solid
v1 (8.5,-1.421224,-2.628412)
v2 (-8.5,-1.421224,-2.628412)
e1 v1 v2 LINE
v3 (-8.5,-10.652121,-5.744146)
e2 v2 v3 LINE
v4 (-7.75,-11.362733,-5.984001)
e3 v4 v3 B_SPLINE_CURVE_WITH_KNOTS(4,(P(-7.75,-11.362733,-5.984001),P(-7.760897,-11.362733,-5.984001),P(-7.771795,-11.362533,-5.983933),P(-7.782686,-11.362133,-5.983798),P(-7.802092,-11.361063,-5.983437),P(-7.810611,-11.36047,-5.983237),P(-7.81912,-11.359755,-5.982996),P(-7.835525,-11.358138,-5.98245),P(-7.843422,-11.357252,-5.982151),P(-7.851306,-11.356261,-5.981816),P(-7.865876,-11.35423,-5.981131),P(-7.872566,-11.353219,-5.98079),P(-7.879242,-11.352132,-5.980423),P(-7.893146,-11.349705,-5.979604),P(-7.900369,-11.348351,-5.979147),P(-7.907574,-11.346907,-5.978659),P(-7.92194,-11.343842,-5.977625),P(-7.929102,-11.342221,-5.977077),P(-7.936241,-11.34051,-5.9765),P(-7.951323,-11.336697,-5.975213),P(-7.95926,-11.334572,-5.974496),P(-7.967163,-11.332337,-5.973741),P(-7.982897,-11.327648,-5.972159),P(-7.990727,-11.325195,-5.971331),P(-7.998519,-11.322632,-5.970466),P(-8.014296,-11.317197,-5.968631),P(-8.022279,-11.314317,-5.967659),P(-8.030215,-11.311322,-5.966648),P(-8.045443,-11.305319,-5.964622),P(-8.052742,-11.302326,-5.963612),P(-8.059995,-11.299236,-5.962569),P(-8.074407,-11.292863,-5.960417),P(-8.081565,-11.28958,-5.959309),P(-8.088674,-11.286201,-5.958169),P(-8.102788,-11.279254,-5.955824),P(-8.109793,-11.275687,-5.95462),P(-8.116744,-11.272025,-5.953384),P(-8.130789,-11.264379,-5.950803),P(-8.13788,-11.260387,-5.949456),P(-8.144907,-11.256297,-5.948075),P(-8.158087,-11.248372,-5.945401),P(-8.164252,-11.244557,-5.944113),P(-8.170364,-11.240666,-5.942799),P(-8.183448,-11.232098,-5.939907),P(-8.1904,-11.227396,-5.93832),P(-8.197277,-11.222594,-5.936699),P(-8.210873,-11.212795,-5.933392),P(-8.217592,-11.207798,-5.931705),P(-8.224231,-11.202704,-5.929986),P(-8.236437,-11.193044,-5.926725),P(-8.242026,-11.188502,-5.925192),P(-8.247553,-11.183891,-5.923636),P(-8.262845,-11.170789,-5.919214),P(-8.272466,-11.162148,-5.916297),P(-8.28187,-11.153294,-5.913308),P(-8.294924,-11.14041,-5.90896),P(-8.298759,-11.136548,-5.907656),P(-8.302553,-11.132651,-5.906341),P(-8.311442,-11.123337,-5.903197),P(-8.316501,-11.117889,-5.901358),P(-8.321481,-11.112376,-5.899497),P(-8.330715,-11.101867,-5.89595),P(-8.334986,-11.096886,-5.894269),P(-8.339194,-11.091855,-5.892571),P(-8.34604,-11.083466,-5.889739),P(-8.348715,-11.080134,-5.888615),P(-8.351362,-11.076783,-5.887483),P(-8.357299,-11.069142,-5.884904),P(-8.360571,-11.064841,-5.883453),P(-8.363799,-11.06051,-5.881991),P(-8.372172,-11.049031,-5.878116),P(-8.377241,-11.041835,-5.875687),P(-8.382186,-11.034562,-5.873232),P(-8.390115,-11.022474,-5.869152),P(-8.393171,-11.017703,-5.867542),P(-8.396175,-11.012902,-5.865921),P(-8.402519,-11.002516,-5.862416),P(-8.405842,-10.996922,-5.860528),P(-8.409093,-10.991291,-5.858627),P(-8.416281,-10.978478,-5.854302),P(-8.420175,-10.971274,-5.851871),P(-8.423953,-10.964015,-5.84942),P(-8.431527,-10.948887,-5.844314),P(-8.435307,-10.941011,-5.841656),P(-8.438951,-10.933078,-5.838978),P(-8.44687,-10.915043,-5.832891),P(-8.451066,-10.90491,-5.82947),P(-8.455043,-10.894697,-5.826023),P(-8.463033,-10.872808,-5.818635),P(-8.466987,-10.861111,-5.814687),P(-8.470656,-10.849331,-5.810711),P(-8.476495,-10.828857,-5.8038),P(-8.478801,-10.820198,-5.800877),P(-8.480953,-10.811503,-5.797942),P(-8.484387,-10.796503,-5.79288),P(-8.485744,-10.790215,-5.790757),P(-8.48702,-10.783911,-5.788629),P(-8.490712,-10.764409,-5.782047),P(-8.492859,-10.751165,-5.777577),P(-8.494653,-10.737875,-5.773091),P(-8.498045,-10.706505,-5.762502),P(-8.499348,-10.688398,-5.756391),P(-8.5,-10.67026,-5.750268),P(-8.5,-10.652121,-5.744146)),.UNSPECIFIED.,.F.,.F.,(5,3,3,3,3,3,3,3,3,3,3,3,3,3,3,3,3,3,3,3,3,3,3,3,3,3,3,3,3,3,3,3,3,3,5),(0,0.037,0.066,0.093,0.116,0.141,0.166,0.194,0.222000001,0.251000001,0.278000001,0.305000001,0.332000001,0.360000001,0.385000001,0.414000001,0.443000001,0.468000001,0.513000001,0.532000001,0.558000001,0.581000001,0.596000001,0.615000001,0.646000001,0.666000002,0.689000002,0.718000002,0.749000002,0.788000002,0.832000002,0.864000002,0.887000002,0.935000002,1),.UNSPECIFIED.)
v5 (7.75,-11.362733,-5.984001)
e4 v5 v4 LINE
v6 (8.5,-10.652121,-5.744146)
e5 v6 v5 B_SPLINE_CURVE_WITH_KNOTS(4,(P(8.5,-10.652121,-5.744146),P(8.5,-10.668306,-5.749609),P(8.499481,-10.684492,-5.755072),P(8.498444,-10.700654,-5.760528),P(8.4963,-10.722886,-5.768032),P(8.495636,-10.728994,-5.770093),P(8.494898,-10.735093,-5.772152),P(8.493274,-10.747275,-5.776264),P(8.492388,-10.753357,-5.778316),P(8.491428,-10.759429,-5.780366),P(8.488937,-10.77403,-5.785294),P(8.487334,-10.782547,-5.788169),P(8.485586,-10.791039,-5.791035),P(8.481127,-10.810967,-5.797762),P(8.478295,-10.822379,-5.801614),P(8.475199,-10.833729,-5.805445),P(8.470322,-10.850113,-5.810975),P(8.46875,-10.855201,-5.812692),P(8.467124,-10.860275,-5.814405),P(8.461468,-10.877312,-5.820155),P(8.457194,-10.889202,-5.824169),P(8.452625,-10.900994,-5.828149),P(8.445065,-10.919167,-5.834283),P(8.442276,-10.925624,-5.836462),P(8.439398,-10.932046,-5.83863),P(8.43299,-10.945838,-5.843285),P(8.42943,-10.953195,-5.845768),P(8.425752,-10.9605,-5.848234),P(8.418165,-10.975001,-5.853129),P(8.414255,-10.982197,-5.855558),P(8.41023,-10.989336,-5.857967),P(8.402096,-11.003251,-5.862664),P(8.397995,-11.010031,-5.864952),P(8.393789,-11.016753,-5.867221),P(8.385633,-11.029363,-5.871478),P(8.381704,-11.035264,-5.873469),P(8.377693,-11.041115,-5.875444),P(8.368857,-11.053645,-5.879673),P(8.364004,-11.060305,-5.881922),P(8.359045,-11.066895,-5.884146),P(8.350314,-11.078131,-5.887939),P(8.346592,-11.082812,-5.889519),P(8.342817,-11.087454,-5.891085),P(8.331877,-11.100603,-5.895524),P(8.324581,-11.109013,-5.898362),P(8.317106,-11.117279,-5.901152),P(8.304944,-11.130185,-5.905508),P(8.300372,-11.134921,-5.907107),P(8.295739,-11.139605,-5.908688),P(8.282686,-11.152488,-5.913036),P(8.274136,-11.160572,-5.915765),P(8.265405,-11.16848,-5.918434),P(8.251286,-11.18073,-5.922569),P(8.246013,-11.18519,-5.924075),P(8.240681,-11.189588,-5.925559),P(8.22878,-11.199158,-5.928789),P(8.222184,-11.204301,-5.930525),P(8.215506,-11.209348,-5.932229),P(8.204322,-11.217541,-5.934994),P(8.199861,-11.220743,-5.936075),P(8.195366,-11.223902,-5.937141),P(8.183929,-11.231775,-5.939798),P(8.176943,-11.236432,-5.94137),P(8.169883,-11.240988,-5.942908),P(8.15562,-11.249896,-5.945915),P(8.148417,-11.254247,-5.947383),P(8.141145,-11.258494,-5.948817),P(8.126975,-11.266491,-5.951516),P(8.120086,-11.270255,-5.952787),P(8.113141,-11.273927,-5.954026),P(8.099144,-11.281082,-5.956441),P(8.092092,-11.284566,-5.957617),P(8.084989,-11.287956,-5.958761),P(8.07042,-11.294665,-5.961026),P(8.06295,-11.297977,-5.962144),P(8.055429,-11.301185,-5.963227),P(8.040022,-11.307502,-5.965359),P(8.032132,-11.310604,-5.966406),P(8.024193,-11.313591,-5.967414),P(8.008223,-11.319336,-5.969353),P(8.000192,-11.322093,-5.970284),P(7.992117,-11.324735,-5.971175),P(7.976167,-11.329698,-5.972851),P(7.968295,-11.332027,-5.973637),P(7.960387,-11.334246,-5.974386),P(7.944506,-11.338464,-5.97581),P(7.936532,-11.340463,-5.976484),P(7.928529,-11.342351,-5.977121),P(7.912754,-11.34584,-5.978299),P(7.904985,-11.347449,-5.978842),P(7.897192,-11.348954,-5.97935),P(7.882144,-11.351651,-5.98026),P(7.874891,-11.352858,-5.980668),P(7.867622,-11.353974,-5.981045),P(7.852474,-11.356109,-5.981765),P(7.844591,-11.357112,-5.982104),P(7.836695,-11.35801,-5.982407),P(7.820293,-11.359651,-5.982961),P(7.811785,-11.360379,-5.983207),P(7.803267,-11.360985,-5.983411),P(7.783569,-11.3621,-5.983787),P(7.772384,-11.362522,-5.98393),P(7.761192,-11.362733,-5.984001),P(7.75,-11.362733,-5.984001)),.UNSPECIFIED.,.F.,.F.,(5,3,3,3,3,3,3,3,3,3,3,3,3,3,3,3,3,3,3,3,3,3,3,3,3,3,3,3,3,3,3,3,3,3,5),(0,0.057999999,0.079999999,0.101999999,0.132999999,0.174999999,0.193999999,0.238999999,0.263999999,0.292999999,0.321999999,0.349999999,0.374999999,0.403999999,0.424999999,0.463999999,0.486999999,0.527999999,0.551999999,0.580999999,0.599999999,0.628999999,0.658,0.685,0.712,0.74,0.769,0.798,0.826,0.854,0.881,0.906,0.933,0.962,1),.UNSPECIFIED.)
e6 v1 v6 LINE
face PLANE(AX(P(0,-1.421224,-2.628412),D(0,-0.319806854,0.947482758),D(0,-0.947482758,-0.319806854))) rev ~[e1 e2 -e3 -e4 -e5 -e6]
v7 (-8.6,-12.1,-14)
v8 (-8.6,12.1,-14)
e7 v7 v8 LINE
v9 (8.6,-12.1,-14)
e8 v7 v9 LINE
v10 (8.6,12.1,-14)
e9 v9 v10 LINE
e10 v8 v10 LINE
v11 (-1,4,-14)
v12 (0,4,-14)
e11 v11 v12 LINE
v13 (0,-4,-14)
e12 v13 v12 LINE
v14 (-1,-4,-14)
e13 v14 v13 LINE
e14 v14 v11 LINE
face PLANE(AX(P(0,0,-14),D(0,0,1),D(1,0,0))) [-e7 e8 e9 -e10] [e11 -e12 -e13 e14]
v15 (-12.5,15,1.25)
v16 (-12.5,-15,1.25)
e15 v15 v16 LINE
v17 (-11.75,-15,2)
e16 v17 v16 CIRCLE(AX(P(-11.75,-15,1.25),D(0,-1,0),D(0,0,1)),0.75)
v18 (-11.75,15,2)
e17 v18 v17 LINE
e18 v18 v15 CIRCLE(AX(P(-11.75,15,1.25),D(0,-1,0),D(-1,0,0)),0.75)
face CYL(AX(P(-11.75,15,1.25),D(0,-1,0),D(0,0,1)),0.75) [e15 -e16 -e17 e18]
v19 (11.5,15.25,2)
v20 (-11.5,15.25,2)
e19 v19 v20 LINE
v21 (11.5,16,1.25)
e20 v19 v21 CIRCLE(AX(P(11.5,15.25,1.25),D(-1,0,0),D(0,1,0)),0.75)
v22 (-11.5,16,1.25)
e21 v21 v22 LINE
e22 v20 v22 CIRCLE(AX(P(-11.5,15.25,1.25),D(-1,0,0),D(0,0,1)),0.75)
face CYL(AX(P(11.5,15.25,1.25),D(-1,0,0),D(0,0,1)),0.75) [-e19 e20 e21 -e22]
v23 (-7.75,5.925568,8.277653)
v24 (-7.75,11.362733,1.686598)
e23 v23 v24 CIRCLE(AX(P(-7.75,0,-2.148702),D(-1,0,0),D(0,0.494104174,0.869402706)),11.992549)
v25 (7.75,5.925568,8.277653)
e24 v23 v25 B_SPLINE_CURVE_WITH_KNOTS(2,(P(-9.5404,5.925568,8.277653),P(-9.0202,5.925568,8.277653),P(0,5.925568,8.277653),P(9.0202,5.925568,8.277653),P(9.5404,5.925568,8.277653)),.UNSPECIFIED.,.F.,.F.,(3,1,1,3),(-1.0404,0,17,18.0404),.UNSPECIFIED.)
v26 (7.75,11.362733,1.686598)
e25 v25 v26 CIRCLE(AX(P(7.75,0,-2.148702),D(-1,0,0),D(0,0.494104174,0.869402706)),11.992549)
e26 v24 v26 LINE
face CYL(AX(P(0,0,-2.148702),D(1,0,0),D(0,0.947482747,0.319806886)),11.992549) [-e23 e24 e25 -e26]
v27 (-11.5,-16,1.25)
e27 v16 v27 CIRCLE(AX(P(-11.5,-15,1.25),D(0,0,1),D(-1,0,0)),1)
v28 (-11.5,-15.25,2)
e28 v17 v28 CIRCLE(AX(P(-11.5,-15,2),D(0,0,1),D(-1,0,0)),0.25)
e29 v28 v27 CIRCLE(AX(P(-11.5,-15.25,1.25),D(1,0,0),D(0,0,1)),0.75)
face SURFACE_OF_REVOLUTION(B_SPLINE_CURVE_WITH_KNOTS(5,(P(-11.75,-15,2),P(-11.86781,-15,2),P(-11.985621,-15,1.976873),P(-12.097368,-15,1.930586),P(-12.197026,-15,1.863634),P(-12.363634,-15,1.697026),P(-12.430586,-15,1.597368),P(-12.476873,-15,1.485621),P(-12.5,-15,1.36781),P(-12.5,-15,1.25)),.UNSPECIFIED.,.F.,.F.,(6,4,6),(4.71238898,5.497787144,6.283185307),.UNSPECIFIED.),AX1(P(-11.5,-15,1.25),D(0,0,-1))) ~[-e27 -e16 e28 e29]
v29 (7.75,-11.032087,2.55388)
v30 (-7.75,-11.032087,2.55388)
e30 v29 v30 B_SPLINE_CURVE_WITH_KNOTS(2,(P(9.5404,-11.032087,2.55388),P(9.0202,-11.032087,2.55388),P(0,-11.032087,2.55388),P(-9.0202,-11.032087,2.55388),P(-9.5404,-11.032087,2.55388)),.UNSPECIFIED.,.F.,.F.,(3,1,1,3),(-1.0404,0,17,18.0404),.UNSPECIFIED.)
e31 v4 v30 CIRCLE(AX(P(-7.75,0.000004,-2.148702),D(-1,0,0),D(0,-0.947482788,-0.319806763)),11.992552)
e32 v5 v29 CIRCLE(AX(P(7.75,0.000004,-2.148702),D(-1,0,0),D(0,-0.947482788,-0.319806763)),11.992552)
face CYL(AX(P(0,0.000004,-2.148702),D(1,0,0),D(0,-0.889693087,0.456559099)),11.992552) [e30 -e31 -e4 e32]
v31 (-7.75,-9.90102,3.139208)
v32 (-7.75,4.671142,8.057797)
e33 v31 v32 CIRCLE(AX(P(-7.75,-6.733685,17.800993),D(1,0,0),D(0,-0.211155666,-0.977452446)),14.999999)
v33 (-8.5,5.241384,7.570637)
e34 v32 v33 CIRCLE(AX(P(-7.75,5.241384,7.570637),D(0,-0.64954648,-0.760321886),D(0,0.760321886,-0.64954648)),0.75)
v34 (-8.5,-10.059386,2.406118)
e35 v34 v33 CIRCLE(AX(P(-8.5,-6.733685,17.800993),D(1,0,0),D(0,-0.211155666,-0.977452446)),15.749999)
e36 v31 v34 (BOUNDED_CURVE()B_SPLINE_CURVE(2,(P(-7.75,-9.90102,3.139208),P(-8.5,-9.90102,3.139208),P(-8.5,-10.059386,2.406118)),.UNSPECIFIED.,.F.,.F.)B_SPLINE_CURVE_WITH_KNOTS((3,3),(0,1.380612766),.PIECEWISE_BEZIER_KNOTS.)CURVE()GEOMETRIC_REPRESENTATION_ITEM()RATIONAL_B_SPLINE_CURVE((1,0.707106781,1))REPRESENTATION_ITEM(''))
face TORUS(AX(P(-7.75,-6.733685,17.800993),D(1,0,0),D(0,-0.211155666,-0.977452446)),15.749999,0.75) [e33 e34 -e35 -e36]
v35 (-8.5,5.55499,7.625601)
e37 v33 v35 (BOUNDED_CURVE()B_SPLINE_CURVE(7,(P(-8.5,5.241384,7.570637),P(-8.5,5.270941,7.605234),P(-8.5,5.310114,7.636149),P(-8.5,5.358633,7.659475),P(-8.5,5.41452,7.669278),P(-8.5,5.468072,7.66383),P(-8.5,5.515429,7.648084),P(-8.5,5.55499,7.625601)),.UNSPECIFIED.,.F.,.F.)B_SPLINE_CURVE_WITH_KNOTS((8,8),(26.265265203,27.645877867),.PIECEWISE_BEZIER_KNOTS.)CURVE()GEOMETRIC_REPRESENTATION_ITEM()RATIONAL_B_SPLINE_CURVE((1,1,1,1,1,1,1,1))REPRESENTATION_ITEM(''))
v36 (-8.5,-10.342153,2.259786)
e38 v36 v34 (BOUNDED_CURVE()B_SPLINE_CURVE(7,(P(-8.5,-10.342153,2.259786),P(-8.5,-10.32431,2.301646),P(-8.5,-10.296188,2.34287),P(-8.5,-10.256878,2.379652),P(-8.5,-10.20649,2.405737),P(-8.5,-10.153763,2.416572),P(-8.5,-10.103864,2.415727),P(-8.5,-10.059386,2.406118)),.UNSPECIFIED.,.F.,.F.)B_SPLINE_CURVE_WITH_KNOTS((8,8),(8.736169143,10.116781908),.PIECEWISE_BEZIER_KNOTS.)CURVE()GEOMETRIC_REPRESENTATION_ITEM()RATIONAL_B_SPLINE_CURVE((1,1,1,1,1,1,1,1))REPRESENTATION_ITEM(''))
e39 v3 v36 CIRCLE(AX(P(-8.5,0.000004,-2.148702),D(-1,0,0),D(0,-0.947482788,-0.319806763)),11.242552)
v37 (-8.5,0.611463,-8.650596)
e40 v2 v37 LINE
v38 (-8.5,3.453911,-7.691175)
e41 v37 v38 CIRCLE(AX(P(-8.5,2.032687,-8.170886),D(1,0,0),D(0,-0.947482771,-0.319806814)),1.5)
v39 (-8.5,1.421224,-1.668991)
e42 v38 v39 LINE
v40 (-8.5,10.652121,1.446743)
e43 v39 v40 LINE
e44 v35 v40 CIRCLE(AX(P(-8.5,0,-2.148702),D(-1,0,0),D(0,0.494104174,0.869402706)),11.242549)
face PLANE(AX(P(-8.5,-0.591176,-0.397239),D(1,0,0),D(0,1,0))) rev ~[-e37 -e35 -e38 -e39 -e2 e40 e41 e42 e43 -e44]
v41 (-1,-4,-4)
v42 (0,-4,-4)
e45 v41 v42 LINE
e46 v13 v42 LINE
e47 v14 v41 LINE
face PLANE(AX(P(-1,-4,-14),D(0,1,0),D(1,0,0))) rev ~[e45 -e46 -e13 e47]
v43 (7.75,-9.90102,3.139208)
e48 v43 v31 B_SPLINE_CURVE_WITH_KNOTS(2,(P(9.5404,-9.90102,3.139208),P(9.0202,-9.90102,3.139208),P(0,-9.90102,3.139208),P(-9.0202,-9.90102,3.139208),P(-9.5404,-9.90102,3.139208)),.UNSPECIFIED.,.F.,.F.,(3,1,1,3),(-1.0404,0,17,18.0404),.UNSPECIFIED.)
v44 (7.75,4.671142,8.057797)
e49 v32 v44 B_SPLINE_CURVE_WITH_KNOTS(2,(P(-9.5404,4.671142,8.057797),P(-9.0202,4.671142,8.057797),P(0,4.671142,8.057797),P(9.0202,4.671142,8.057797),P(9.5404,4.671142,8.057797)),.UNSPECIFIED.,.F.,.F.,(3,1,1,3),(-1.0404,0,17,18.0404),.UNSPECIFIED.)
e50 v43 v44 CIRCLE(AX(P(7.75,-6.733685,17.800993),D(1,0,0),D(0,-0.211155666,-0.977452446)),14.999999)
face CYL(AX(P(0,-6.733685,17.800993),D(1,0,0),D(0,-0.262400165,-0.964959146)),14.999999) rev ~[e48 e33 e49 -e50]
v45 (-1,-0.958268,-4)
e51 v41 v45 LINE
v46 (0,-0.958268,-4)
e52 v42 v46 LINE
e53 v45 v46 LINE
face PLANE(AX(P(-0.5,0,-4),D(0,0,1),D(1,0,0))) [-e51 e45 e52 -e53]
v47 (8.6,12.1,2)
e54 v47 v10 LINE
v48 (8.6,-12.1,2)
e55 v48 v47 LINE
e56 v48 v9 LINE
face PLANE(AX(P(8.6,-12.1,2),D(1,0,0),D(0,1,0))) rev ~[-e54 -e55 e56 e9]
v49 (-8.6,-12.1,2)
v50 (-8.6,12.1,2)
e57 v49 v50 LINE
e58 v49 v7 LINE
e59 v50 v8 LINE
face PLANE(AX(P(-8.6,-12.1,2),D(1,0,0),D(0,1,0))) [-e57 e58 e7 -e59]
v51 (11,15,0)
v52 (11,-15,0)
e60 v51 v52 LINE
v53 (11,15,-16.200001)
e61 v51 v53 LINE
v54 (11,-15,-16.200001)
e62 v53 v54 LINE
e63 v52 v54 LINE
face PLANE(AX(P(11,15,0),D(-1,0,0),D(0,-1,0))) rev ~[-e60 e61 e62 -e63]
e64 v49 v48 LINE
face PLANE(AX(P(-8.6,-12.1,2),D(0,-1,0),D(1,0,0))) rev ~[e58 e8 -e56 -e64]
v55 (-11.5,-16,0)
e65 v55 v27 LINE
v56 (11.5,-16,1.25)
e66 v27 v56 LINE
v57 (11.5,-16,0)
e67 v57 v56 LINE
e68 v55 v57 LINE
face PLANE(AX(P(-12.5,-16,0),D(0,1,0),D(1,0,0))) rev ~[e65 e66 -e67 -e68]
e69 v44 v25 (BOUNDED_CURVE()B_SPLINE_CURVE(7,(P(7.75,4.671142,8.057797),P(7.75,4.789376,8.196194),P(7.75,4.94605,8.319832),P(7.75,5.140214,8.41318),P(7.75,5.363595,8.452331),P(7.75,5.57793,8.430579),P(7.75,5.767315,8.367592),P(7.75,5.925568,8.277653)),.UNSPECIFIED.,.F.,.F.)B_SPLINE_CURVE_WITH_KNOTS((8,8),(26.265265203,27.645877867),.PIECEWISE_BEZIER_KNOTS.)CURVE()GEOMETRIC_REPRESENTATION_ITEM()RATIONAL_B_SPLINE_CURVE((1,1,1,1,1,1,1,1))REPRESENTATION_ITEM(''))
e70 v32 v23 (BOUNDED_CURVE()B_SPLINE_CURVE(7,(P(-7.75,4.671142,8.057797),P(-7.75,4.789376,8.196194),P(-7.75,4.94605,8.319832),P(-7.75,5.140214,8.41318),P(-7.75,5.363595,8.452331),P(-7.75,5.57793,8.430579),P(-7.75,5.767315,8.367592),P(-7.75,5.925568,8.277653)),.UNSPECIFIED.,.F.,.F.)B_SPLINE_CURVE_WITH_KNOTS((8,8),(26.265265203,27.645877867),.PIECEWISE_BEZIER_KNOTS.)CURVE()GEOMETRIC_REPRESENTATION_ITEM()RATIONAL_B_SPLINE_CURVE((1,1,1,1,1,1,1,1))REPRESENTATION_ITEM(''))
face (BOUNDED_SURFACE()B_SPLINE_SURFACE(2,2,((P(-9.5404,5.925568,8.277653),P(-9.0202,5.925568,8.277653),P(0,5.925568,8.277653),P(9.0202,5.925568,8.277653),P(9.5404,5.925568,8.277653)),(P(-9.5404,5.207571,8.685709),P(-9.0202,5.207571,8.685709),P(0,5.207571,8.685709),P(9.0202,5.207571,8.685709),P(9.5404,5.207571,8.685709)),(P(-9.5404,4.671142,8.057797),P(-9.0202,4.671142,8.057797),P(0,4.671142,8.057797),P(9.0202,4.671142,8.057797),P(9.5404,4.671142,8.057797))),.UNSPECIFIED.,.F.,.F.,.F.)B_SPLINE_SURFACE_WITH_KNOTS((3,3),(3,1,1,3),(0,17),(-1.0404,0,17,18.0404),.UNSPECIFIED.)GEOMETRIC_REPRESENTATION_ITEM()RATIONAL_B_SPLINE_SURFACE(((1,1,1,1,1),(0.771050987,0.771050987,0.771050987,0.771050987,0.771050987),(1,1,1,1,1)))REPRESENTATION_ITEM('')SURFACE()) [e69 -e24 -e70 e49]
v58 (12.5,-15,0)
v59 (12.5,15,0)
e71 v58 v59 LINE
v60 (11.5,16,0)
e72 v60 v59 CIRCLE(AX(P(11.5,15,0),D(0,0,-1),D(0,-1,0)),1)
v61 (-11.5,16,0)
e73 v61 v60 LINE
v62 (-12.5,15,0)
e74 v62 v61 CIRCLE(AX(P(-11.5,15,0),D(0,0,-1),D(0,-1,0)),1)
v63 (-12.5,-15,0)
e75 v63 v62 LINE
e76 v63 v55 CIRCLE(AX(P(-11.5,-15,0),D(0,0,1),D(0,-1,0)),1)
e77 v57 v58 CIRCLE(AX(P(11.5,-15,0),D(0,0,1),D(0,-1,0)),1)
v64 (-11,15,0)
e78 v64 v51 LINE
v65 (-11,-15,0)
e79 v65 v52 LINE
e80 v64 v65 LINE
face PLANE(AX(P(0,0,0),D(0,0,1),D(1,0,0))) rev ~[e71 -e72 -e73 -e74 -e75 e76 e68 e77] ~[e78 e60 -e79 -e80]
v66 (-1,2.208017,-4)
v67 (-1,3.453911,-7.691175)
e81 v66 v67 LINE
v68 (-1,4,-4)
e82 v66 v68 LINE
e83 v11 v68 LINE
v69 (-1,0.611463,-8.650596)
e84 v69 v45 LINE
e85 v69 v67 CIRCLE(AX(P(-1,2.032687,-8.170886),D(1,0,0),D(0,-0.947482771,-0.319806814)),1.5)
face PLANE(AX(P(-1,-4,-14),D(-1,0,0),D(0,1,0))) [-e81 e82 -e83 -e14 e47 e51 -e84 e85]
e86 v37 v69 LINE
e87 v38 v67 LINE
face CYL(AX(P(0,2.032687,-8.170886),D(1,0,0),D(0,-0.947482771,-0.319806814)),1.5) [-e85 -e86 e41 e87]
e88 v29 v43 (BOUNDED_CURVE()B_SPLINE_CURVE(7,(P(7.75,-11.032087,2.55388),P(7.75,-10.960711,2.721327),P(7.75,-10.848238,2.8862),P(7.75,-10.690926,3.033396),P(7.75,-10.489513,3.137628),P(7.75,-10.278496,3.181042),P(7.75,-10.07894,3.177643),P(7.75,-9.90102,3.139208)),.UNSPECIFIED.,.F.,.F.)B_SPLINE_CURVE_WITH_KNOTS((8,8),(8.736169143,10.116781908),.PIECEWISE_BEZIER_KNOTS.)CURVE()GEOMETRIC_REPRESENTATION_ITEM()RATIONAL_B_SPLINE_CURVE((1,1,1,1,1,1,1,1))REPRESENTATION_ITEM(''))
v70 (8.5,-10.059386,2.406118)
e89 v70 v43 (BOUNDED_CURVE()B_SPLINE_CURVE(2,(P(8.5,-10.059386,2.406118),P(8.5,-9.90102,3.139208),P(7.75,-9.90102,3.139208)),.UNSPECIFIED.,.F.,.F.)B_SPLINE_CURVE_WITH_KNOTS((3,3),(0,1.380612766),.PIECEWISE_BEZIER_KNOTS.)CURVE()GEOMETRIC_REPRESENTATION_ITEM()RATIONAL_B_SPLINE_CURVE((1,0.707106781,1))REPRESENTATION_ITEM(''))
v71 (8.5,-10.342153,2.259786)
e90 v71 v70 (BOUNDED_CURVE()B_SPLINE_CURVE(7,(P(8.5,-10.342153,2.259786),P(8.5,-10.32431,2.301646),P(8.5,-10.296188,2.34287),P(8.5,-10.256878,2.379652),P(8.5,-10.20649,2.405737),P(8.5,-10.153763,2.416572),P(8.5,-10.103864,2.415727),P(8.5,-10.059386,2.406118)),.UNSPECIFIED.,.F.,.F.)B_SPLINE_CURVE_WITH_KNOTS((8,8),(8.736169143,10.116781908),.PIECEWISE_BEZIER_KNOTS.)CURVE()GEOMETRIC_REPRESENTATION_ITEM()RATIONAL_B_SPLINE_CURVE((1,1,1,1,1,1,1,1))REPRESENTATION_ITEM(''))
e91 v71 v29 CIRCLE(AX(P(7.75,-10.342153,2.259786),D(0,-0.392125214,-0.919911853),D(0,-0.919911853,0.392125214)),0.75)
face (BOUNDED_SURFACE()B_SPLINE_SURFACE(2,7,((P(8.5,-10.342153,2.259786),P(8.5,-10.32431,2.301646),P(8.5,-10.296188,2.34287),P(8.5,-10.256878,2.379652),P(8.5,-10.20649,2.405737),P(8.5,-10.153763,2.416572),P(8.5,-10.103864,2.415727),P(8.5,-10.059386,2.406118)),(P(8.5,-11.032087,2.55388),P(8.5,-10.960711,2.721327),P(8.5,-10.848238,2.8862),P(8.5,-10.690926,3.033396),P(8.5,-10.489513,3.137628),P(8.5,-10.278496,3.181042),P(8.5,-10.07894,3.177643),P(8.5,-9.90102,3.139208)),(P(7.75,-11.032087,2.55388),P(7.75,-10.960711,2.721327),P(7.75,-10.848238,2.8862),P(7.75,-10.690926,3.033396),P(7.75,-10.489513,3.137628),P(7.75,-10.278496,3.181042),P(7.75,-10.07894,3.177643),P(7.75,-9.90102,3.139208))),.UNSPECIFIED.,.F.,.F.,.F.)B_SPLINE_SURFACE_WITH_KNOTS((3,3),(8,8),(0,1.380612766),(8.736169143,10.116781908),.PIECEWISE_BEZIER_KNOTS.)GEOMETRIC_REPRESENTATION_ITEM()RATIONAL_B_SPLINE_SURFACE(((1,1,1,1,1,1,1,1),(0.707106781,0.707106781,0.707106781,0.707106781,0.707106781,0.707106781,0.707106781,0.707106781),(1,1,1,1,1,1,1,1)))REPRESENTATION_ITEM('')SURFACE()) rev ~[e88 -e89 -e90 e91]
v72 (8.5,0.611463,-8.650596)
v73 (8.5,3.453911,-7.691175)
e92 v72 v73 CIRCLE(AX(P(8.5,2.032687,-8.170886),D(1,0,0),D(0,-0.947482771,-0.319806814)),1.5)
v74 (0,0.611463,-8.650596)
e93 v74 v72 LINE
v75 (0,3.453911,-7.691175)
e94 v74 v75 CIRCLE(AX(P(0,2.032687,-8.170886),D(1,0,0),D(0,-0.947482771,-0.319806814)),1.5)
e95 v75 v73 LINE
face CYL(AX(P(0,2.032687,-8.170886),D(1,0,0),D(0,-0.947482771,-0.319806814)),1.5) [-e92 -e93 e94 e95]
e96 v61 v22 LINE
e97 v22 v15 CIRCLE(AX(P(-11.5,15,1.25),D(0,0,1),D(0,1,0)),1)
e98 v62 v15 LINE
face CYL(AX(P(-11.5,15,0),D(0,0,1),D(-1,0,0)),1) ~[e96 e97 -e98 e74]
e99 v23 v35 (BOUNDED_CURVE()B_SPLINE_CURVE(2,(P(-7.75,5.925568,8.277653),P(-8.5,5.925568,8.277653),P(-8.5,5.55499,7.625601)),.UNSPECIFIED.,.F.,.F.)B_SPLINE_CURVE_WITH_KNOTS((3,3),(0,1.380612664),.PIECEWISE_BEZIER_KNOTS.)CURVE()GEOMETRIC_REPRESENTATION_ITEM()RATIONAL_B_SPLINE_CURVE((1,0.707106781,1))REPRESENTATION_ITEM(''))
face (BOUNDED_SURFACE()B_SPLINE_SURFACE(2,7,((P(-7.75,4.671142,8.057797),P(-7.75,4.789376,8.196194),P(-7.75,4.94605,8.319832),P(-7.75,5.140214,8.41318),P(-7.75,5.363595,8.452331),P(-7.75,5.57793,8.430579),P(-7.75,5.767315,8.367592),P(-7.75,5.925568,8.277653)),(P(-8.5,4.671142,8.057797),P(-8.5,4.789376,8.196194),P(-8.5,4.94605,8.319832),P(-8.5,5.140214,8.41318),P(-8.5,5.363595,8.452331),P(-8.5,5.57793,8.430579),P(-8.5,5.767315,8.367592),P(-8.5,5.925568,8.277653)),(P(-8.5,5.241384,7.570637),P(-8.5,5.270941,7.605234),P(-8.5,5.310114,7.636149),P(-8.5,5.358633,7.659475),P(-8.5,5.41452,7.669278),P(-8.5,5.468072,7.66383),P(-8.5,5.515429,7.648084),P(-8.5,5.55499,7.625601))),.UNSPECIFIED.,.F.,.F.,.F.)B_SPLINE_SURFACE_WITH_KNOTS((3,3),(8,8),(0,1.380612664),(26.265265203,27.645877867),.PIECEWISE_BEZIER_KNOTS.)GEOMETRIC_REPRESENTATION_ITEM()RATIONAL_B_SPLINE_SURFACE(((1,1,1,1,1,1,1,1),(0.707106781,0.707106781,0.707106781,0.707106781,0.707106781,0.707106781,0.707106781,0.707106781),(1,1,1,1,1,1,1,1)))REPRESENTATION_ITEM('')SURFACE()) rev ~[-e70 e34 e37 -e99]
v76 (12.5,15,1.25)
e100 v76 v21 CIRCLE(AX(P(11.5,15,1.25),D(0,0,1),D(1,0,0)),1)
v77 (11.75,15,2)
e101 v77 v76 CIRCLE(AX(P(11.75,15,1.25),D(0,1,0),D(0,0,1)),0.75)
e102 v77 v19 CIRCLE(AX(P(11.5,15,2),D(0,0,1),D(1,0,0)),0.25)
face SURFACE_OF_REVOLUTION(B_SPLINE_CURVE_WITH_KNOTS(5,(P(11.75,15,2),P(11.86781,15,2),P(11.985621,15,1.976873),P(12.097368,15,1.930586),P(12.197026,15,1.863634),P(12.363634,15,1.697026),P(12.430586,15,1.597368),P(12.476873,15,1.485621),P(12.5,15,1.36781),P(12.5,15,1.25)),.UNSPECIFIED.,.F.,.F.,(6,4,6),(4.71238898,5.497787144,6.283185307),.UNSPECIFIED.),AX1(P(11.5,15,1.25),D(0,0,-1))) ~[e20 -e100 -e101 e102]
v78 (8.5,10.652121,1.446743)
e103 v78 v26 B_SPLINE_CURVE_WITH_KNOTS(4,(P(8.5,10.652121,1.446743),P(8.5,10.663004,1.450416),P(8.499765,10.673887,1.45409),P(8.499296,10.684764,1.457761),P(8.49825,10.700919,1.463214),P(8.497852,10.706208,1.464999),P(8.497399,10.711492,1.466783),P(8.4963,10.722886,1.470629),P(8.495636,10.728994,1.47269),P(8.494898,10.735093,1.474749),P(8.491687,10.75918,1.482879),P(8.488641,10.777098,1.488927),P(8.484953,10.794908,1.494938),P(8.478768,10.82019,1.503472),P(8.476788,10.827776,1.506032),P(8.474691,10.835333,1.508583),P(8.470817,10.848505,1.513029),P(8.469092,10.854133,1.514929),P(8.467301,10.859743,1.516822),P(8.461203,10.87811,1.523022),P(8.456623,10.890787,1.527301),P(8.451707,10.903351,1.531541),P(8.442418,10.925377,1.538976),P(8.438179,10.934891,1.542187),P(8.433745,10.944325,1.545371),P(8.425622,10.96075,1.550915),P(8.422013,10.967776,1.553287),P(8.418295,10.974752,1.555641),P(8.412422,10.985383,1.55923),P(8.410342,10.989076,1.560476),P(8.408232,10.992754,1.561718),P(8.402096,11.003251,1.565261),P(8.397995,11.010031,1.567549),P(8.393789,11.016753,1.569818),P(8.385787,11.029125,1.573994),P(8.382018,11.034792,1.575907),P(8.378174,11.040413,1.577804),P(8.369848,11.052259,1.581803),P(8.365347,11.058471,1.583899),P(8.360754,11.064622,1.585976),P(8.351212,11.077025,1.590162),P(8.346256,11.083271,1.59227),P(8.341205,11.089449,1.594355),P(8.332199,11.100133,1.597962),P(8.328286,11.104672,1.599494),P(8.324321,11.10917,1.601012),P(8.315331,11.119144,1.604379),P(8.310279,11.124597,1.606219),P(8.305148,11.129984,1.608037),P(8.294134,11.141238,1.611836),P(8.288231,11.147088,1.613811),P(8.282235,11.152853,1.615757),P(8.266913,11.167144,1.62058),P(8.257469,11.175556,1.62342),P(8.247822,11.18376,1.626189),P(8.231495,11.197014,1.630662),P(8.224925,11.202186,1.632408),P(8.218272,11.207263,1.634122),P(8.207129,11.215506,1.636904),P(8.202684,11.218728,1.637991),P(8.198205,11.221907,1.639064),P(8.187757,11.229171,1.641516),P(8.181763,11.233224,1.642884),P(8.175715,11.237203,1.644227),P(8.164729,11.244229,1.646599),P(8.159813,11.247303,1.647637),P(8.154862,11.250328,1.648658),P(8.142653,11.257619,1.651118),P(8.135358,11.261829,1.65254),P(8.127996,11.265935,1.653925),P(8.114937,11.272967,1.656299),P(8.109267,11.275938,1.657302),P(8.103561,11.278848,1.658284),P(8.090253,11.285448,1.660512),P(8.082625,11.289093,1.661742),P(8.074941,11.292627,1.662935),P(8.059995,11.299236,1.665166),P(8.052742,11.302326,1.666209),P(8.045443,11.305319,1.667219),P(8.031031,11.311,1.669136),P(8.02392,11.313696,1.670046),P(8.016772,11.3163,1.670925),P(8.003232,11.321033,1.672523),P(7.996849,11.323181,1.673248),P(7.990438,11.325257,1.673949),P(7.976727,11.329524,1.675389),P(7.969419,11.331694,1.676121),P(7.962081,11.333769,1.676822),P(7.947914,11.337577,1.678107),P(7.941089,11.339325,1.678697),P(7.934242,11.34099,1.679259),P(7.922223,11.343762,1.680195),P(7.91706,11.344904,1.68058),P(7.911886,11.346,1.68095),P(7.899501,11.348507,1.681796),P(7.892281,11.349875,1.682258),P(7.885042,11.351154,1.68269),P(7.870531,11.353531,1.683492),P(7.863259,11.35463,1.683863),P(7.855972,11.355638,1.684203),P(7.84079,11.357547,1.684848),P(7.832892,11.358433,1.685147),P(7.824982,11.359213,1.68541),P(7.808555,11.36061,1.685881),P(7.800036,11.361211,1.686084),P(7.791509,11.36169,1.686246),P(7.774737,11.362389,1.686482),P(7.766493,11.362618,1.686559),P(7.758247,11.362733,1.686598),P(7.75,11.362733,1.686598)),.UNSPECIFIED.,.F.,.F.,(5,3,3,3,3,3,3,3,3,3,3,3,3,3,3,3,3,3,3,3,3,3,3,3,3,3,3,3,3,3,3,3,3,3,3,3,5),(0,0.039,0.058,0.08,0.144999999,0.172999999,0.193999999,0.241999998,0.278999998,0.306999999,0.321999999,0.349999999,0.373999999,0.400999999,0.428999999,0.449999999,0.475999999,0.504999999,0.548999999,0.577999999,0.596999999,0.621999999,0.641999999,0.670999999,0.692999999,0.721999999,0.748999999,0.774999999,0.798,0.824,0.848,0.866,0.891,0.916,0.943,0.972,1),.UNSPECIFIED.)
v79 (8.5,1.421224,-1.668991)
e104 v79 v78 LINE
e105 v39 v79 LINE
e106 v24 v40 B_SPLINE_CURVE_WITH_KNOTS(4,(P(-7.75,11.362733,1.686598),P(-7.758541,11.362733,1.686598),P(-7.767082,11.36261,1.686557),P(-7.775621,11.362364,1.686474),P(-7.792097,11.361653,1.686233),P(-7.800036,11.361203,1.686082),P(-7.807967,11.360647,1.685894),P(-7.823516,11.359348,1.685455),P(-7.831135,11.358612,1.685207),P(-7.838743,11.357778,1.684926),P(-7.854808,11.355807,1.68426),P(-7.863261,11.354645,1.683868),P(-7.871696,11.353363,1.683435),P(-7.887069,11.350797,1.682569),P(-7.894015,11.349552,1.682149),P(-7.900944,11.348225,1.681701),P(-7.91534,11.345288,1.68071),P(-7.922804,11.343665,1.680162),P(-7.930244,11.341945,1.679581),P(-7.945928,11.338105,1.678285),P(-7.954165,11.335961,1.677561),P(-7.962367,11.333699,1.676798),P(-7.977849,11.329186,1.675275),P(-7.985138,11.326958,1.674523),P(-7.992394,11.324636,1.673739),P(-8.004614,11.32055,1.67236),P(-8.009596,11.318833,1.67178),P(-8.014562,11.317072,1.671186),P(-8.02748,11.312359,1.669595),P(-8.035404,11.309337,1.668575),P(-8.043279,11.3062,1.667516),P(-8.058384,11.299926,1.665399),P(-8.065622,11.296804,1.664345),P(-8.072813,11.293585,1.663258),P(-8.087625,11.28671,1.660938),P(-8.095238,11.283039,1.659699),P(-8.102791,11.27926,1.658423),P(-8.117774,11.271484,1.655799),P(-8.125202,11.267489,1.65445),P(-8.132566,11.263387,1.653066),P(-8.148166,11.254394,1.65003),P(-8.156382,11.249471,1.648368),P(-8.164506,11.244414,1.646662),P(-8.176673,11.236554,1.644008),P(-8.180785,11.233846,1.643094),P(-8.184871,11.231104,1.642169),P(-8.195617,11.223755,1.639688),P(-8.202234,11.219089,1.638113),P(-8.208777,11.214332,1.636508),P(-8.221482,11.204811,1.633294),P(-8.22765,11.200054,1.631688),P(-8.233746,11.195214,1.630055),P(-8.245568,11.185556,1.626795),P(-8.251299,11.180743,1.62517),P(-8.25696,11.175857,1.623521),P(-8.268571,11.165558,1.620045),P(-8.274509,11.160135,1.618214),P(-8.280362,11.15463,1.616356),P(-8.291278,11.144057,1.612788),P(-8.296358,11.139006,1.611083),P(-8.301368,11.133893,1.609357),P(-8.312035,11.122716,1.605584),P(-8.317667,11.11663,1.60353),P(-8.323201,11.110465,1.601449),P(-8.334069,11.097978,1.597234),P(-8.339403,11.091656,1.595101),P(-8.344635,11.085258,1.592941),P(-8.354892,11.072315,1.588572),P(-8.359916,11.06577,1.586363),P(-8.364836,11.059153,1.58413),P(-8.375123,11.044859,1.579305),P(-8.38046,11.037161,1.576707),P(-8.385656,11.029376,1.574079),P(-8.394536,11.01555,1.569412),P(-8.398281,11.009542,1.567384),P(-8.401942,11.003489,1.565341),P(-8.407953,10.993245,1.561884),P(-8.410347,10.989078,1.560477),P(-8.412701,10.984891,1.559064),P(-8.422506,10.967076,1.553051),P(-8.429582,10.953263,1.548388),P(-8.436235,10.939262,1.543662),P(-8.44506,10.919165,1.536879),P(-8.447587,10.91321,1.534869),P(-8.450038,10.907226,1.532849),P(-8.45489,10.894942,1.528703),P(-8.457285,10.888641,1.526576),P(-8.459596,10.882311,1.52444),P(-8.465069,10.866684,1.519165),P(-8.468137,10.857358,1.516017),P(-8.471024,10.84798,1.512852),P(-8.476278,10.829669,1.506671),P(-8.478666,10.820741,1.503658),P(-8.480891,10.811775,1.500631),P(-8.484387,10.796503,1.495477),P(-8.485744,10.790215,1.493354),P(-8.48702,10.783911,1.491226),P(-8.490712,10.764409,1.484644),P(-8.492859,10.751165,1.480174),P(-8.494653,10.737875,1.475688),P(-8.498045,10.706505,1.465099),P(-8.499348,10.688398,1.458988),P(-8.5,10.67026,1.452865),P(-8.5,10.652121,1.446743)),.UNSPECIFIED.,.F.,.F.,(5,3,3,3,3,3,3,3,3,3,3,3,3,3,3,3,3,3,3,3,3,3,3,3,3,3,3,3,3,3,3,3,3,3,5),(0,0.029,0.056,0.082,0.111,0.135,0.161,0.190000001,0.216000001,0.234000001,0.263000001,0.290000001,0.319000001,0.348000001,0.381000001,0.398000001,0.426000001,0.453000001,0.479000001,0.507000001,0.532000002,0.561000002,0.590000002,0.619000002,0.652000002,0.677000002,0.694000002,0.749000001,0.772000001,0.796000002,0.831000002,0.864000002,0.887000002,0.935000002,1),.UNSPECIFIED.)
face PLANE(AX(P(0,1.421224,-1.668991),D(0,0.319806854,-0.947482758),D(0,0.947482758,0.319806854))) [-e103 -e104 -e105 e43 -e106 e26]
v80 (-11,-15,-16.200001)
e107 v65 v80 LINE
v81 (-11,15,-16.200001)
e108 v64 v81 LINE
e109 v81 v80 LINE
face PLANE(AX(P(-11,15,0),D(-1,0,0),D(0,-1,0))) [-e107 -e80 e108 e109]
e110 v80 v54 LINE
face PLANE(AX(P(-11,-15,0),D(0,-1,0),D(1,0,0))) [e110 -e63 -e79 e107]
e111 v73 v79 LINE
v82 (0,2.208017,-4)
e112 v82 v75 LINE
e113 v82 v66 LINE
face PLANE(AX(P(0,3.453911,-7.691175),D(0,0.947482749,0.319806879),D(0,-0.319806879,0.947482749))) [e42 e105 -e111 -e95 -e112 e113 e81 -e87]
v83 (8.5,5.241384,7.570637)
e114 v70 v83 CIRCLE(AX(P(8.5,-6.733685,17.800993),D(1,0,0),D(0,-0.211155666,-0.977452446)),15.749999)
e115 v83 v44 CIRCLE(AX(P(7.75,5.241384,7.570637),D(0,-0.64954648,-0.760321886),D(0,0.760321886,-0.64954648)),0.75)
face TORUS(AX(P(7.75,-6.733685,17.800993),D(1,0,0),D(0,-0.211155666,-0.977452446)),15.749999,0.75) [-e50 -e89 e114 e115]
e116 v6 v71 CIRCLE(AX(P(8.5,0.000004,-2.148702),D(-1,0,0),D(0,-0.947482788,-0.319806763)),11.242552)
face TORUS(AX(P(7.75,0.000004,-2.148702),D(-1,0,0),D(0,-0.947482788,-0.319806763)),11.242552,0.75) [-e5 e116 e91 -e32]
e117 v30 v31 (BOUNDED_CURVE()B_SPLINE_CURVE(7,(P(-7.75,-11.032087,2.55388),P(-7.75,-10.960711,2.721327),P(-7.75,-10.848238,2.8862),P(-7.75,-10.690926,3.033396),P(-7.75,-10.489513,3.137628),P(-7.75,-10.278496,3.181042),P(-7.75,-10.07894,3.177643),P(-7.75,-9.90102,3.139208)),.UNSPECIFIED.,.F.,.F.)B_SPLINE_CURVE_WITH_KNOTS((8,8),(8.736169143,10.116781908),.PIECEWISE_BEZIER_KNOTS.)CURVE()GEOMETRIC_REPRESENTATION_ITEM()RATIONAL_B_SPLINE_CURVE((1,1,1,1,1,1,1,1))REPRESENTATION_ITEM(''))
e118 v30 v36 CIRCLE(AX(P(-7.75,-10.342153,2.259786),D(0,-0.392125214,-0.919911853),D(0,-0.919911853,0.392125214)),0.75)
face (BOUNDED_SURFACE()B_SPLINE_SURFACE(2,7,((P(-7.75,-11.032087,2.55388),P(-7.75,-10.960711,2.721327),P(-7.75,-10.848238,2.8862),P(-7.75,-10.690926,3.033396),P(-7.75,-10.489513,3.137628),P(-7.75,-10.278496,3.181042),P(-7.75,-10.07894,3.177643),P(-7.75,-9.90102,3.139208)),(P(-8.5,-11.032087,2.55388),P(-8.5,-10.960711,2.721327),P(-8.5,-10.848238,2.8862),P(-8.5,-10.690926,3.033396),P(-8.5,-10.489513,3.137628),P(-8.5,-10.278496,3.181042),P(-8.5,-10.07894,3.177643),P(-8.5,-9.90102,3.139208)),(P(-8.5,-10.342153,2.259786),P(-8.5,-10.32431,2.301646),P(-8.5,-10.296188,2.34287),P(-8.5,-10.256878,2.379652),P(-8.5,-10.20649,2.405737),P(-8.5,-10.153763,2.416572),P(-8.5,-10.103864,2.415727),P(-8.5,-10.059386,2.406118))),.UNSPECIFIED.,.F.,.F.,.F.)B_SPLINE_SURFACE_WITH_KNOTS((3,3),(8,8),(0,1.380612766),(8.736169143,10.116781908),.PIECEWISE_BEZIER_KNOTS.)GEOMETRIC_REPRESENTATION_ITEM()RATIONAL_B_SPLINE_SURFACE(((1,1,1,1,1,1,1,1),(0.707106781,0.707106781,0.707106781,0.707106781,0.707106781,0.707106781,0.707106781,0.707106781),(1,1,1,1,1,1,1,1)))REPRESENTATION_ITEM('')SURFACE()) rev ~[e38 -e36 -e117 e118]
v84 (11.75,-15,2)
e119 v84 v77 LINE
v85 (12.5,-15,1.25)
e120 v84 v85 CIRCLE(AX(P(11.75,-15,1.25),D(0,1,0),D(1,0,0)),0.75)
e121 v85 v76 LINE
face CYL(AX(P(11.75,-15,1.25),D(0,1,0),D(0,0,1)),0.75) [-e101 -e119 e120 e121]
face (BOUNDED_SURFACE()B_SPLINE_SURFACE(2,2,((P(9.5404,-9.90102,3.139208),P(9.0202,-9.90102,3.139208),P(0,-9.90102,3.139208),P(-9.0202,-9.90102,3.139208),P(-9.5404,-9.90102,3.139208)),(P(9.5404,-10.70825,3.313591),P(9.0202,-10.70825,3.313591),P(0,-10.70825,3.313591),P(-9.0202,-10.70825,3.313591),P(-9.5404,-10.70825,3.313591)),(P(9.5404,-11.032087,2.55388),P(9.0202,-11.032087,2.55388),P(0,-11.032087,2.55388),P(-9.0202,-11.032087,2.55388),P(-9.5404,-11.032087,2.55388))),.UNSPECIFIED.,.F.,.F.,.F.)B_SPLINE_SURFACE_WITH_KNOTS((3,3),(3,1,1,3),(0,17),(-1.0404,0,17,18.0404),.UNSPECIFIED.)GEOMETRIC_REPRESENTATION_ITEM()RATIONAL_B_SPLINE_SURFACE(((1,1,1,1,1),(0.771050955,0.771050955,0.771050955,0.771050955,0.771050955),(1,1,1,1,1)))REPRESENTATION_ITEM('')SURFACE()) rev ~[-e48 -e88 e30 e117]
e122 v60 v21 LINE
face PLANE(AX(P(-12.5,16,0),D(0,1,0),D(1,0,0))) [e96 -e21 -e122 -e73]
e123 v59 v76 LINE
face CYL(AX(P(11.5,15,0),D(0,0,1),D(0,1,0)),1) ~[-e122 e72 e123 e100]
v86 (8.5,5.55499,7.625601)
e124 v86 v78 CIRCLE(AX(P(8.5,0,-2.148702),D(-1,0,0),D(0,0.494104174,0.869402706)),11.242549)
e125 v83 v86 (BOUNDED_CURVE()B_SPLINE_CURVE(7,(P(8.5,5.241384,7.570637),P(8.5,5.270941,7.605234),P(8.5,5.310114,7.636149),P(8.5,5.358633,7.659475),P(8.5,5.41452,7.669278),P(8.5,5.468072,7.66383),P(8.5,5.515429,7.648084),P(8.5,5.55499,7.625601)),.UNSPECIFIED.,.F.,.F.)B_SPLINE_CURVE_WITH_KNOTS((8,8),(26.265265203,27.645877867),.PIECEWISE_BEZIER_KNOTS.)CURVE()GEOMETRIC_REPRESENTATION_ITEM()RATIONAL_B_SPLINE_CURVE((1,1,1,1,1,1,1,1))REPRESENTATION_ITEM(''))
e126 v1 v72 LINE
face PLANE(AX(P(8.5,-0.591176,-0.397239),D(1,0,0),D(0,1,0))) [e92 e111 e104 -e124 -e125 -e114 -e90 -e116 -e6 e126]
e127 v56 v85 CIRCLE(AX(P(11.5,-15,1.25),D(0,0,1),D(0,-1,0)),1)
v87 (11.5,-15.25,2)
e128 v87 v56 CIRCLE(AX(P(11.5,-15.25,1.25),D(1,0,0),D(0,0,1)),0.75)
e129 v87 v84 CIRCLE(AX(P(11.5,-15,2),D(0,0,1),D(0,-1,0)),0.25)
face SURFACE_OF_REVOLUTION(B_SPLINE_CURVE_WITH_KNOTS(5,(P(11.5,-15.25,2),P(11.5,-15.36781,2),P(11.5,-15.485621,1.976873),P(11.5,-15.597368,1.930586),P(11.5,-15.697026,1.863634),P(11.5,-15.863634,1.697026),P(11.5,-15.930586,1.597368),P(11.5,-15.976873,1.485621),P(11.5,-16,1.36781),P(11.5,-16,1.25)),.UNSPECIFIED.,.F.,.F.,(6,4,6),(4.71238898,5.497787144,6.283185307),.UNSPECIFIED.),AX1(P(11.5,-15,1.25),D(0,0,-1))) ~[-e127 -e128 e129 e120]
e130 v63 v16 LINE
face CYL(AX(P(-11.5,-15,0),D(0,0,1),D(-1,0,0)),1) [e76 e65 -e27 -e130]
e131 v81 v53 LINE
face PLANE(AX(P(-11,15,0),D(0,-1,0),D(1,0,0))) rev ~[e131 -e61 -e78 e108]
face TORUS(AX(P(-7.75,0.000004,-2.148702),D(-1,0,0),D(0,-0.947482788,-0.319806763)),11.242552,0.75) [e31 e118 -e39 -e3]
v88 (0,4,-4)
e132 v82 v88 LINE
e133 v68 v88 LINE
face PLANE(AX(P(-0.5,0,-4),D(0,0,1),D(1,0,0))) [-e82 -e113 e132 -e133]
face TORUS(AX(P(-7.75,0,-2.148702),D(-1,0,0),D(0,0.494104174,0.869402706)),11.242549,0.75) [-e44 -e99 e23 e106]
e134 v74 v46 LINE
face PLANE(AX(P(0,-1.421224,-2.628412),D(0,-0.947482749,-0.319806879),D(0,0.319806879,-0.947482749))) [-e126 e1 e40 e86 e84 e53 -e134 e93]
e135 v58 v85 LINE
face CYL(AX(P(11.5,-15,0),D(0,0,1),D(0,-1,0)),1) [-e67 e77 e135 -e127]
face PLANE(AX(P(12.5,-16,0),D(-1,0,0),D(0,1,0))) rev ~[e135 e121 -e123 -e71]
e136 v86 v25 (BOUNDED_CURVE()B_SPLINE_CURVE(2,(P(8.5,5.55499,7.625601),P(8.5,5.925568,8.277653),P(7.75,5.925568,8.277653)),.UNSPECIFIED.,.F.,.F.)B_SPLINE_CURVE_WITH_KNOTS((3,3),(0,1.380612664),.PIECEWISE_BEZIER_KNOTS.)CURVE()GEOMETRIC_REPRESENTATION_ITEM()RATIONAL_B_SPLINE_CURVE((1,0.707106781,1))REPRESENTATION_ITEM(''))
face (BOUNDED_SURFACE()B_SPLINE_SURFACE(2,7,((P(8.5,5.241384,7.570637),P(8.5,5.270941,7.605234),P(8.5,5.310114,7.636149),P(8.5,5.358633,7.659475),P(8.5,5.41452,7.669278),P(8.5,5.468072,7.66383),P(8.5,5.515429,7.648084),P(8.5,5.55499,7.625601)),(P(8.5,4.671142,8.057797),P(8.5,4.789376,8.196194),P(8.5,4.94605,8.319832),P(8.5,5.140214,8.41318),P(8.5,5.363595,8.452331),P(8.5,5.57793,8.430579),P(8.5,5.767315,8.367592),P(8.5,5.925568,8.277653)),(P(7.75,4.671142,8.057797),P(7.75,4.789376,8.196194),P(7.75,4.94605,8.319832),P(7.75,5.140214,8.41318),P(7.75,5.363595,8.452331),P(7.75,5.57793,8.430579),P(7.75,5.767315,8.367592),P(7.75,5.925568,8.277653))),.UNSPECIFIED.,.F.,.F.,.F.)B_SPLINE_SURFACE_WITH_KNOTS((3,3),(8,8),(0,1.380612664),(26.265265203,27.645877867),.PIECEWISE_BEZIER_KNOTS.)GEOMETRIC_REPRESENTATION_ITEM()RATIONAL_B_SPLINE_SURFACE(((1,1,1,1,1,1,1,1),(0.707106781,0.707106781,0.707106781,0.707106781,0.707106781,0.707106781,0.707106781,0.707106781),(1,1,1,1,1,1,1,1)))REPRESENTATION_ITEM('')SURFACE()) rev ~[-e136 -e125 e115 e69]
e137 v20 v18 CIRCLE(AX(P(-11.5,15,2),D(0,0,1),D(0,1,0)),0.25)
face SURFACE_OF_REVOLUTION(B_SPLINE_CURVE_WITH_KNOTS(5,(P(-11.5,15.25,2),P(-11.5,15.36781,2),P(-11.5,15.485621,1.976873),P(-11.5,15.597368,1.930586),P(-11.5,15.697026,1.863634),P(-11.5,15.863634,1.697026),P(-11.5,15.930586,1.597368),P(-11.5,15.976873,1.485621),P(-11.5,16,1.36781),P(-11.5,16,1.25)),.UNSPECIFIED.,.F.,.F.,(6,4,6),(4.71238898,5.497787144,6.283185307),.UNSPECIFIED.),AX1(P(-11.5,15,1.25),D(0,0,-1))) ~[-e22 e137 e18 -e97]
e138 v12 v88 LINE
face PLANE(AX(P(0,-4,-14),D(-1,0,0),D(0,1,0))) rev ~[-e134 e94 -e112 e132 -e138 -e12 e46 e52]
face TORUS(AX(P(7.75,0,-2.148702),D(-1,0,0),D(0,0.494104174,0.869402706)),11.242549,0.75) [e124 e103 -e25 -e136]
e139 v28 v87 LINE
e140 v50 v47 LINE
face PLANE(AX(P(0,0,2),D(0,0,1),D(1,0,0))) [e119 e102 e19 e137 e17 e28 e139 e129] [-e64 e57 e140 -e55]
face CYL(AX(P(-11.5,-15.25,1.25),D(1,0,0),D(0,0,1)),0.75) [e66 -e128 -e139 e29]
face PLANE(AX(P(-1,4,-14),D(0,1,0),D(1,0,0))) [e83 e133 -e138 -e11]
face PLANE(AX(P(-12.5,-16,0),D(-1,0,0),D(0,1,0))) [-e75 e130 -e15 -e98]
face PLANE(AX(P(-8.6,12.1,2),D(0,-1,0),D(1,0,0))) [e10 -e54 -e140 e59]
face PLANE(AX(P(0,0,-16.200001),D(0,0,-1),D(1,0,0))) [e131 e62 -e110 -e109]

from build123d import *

# Parameters (mm, degrees)
SKETCH_W     = 25
SKETCH_H     = 32
PAD_DEPTH    = 2
SKETCH001_W  = 22
SKETCH001_H  = 30
PAD001_DEPTH = 16.200001
SKETCH002_W  = 17.2
SKETCH002_H  = 24.2
POCKET_DEPTH = 16
SKETCH003_W  = 1
SKETCH003_H  = 8
PAD002_DEPTH = 10
PAD003_DEPTH = 8.5
FILLET_R     = 1
FILLET001_R  = 0.75
FILLET002_R  = 1
FILLET003_R  = 0.75


with BuildPart() as part:
    # Sketch → Pad (new body)
    with BuildSketch(Plane.XY):
        Rectangle(SKETCH_W, SKETCH_H)
    extrude(amount=PAD_DEPTH)

    # Sketch001 → Pad001 (new body)
    with BuildSketch(Plane(origin=(0, 0, 0), x_dir=(1, 0, 0), z_dir=(0, 0, -1))):
        Rectangle(SKETCH001_W, SKETCH001_H)
    extrude(amount=PAD001_DEPTH)

    # Sketch002 → Pocket (cut)
    with BuildSketch(Plane.XY.offset(2)):
        Rectangle(SKETCH002_W, SKETCH002_H)
    extrude(amount=-POCKET_DEPTH, mode=Mode.SUBTRACT)

    # Sketch003 → Pad002 (new body)
    with BuildSketch(Plane.XY.offset(-14)):
        with Locations((-0.5, 0)):
            Rectangle(SKETCH003_W, SKETCH003_H)
    extrude(amount=PAD002_DEPTH)

    # Sketch004 → Pad003 (new body, symmetric)
    with BuildSketch(Plane.YZ):
        with BuildLine():
            Line((-1.421224, -2.628412), (0.611463, -8.650596))
            ThreePointArc((0.611463, -8.650596), (2.512397, -9.59211), (3.453911, -7.691175))
            Line((3.453911, -7.691175), (1.421224, -1.668991))
            Line((1.421224, -1.668991), (11.362733, 1.686598))
            ThreePointArc((11.362733, 1.686598), (8.973628, 5.807128), (5.169008, 8.672693))
            ThreePointArc((-10.669687, 3.326607), (-1.936582, 3.588753), (5.169008, 8.672693))
            ThreePointArc((-10.669687, 3.326607), (-11.959462, -1.258485), (-11.362733, -5.984001))
            Line((-1.421224, -2.628412), (-11.362733, -5.984001))
        make_face()
    extrude(amount=PAD003_DEPTH, both=True)

    # Fillet
    fillet_edges = [part.edges().sort_by_distance(p)[0] for p in [
        (-12.5, -16, 1),
        (12.5, -16, 1),
        (12.5, 16, 1),
        (-12.5, 16, 1),
    ]]
    fillet(fillet_edges, radius=FILLET_R)

    # Fillet001
    fillet001_edges = [part.edges().sort_by_distance(p)[0] for p in [
        (0, -16, 2),
    ]]
    fillet(fillet001_edges, radius=FILLET001_R)

    # Fillet002
    fillet002_edges = [part.edges().sort_by_distance(p)[0] for p in [
        (0, -10.669687, 3.326607),
        (0, 5.169008, 8.672693),
    ]]
    fillet(fillet002_edges, radius=FILLET002_R)

    # Fillet003
    fillet003_edges = [part.edges().sort_by_distance(p)[0] for p in [
        (8.5, -1.936582, 3.588753),
        (-8.5, -1.936582, 3.588753),
    ]]
    fillet(fillet003_edges, radius=FILLET003_R)


solid = part.part
